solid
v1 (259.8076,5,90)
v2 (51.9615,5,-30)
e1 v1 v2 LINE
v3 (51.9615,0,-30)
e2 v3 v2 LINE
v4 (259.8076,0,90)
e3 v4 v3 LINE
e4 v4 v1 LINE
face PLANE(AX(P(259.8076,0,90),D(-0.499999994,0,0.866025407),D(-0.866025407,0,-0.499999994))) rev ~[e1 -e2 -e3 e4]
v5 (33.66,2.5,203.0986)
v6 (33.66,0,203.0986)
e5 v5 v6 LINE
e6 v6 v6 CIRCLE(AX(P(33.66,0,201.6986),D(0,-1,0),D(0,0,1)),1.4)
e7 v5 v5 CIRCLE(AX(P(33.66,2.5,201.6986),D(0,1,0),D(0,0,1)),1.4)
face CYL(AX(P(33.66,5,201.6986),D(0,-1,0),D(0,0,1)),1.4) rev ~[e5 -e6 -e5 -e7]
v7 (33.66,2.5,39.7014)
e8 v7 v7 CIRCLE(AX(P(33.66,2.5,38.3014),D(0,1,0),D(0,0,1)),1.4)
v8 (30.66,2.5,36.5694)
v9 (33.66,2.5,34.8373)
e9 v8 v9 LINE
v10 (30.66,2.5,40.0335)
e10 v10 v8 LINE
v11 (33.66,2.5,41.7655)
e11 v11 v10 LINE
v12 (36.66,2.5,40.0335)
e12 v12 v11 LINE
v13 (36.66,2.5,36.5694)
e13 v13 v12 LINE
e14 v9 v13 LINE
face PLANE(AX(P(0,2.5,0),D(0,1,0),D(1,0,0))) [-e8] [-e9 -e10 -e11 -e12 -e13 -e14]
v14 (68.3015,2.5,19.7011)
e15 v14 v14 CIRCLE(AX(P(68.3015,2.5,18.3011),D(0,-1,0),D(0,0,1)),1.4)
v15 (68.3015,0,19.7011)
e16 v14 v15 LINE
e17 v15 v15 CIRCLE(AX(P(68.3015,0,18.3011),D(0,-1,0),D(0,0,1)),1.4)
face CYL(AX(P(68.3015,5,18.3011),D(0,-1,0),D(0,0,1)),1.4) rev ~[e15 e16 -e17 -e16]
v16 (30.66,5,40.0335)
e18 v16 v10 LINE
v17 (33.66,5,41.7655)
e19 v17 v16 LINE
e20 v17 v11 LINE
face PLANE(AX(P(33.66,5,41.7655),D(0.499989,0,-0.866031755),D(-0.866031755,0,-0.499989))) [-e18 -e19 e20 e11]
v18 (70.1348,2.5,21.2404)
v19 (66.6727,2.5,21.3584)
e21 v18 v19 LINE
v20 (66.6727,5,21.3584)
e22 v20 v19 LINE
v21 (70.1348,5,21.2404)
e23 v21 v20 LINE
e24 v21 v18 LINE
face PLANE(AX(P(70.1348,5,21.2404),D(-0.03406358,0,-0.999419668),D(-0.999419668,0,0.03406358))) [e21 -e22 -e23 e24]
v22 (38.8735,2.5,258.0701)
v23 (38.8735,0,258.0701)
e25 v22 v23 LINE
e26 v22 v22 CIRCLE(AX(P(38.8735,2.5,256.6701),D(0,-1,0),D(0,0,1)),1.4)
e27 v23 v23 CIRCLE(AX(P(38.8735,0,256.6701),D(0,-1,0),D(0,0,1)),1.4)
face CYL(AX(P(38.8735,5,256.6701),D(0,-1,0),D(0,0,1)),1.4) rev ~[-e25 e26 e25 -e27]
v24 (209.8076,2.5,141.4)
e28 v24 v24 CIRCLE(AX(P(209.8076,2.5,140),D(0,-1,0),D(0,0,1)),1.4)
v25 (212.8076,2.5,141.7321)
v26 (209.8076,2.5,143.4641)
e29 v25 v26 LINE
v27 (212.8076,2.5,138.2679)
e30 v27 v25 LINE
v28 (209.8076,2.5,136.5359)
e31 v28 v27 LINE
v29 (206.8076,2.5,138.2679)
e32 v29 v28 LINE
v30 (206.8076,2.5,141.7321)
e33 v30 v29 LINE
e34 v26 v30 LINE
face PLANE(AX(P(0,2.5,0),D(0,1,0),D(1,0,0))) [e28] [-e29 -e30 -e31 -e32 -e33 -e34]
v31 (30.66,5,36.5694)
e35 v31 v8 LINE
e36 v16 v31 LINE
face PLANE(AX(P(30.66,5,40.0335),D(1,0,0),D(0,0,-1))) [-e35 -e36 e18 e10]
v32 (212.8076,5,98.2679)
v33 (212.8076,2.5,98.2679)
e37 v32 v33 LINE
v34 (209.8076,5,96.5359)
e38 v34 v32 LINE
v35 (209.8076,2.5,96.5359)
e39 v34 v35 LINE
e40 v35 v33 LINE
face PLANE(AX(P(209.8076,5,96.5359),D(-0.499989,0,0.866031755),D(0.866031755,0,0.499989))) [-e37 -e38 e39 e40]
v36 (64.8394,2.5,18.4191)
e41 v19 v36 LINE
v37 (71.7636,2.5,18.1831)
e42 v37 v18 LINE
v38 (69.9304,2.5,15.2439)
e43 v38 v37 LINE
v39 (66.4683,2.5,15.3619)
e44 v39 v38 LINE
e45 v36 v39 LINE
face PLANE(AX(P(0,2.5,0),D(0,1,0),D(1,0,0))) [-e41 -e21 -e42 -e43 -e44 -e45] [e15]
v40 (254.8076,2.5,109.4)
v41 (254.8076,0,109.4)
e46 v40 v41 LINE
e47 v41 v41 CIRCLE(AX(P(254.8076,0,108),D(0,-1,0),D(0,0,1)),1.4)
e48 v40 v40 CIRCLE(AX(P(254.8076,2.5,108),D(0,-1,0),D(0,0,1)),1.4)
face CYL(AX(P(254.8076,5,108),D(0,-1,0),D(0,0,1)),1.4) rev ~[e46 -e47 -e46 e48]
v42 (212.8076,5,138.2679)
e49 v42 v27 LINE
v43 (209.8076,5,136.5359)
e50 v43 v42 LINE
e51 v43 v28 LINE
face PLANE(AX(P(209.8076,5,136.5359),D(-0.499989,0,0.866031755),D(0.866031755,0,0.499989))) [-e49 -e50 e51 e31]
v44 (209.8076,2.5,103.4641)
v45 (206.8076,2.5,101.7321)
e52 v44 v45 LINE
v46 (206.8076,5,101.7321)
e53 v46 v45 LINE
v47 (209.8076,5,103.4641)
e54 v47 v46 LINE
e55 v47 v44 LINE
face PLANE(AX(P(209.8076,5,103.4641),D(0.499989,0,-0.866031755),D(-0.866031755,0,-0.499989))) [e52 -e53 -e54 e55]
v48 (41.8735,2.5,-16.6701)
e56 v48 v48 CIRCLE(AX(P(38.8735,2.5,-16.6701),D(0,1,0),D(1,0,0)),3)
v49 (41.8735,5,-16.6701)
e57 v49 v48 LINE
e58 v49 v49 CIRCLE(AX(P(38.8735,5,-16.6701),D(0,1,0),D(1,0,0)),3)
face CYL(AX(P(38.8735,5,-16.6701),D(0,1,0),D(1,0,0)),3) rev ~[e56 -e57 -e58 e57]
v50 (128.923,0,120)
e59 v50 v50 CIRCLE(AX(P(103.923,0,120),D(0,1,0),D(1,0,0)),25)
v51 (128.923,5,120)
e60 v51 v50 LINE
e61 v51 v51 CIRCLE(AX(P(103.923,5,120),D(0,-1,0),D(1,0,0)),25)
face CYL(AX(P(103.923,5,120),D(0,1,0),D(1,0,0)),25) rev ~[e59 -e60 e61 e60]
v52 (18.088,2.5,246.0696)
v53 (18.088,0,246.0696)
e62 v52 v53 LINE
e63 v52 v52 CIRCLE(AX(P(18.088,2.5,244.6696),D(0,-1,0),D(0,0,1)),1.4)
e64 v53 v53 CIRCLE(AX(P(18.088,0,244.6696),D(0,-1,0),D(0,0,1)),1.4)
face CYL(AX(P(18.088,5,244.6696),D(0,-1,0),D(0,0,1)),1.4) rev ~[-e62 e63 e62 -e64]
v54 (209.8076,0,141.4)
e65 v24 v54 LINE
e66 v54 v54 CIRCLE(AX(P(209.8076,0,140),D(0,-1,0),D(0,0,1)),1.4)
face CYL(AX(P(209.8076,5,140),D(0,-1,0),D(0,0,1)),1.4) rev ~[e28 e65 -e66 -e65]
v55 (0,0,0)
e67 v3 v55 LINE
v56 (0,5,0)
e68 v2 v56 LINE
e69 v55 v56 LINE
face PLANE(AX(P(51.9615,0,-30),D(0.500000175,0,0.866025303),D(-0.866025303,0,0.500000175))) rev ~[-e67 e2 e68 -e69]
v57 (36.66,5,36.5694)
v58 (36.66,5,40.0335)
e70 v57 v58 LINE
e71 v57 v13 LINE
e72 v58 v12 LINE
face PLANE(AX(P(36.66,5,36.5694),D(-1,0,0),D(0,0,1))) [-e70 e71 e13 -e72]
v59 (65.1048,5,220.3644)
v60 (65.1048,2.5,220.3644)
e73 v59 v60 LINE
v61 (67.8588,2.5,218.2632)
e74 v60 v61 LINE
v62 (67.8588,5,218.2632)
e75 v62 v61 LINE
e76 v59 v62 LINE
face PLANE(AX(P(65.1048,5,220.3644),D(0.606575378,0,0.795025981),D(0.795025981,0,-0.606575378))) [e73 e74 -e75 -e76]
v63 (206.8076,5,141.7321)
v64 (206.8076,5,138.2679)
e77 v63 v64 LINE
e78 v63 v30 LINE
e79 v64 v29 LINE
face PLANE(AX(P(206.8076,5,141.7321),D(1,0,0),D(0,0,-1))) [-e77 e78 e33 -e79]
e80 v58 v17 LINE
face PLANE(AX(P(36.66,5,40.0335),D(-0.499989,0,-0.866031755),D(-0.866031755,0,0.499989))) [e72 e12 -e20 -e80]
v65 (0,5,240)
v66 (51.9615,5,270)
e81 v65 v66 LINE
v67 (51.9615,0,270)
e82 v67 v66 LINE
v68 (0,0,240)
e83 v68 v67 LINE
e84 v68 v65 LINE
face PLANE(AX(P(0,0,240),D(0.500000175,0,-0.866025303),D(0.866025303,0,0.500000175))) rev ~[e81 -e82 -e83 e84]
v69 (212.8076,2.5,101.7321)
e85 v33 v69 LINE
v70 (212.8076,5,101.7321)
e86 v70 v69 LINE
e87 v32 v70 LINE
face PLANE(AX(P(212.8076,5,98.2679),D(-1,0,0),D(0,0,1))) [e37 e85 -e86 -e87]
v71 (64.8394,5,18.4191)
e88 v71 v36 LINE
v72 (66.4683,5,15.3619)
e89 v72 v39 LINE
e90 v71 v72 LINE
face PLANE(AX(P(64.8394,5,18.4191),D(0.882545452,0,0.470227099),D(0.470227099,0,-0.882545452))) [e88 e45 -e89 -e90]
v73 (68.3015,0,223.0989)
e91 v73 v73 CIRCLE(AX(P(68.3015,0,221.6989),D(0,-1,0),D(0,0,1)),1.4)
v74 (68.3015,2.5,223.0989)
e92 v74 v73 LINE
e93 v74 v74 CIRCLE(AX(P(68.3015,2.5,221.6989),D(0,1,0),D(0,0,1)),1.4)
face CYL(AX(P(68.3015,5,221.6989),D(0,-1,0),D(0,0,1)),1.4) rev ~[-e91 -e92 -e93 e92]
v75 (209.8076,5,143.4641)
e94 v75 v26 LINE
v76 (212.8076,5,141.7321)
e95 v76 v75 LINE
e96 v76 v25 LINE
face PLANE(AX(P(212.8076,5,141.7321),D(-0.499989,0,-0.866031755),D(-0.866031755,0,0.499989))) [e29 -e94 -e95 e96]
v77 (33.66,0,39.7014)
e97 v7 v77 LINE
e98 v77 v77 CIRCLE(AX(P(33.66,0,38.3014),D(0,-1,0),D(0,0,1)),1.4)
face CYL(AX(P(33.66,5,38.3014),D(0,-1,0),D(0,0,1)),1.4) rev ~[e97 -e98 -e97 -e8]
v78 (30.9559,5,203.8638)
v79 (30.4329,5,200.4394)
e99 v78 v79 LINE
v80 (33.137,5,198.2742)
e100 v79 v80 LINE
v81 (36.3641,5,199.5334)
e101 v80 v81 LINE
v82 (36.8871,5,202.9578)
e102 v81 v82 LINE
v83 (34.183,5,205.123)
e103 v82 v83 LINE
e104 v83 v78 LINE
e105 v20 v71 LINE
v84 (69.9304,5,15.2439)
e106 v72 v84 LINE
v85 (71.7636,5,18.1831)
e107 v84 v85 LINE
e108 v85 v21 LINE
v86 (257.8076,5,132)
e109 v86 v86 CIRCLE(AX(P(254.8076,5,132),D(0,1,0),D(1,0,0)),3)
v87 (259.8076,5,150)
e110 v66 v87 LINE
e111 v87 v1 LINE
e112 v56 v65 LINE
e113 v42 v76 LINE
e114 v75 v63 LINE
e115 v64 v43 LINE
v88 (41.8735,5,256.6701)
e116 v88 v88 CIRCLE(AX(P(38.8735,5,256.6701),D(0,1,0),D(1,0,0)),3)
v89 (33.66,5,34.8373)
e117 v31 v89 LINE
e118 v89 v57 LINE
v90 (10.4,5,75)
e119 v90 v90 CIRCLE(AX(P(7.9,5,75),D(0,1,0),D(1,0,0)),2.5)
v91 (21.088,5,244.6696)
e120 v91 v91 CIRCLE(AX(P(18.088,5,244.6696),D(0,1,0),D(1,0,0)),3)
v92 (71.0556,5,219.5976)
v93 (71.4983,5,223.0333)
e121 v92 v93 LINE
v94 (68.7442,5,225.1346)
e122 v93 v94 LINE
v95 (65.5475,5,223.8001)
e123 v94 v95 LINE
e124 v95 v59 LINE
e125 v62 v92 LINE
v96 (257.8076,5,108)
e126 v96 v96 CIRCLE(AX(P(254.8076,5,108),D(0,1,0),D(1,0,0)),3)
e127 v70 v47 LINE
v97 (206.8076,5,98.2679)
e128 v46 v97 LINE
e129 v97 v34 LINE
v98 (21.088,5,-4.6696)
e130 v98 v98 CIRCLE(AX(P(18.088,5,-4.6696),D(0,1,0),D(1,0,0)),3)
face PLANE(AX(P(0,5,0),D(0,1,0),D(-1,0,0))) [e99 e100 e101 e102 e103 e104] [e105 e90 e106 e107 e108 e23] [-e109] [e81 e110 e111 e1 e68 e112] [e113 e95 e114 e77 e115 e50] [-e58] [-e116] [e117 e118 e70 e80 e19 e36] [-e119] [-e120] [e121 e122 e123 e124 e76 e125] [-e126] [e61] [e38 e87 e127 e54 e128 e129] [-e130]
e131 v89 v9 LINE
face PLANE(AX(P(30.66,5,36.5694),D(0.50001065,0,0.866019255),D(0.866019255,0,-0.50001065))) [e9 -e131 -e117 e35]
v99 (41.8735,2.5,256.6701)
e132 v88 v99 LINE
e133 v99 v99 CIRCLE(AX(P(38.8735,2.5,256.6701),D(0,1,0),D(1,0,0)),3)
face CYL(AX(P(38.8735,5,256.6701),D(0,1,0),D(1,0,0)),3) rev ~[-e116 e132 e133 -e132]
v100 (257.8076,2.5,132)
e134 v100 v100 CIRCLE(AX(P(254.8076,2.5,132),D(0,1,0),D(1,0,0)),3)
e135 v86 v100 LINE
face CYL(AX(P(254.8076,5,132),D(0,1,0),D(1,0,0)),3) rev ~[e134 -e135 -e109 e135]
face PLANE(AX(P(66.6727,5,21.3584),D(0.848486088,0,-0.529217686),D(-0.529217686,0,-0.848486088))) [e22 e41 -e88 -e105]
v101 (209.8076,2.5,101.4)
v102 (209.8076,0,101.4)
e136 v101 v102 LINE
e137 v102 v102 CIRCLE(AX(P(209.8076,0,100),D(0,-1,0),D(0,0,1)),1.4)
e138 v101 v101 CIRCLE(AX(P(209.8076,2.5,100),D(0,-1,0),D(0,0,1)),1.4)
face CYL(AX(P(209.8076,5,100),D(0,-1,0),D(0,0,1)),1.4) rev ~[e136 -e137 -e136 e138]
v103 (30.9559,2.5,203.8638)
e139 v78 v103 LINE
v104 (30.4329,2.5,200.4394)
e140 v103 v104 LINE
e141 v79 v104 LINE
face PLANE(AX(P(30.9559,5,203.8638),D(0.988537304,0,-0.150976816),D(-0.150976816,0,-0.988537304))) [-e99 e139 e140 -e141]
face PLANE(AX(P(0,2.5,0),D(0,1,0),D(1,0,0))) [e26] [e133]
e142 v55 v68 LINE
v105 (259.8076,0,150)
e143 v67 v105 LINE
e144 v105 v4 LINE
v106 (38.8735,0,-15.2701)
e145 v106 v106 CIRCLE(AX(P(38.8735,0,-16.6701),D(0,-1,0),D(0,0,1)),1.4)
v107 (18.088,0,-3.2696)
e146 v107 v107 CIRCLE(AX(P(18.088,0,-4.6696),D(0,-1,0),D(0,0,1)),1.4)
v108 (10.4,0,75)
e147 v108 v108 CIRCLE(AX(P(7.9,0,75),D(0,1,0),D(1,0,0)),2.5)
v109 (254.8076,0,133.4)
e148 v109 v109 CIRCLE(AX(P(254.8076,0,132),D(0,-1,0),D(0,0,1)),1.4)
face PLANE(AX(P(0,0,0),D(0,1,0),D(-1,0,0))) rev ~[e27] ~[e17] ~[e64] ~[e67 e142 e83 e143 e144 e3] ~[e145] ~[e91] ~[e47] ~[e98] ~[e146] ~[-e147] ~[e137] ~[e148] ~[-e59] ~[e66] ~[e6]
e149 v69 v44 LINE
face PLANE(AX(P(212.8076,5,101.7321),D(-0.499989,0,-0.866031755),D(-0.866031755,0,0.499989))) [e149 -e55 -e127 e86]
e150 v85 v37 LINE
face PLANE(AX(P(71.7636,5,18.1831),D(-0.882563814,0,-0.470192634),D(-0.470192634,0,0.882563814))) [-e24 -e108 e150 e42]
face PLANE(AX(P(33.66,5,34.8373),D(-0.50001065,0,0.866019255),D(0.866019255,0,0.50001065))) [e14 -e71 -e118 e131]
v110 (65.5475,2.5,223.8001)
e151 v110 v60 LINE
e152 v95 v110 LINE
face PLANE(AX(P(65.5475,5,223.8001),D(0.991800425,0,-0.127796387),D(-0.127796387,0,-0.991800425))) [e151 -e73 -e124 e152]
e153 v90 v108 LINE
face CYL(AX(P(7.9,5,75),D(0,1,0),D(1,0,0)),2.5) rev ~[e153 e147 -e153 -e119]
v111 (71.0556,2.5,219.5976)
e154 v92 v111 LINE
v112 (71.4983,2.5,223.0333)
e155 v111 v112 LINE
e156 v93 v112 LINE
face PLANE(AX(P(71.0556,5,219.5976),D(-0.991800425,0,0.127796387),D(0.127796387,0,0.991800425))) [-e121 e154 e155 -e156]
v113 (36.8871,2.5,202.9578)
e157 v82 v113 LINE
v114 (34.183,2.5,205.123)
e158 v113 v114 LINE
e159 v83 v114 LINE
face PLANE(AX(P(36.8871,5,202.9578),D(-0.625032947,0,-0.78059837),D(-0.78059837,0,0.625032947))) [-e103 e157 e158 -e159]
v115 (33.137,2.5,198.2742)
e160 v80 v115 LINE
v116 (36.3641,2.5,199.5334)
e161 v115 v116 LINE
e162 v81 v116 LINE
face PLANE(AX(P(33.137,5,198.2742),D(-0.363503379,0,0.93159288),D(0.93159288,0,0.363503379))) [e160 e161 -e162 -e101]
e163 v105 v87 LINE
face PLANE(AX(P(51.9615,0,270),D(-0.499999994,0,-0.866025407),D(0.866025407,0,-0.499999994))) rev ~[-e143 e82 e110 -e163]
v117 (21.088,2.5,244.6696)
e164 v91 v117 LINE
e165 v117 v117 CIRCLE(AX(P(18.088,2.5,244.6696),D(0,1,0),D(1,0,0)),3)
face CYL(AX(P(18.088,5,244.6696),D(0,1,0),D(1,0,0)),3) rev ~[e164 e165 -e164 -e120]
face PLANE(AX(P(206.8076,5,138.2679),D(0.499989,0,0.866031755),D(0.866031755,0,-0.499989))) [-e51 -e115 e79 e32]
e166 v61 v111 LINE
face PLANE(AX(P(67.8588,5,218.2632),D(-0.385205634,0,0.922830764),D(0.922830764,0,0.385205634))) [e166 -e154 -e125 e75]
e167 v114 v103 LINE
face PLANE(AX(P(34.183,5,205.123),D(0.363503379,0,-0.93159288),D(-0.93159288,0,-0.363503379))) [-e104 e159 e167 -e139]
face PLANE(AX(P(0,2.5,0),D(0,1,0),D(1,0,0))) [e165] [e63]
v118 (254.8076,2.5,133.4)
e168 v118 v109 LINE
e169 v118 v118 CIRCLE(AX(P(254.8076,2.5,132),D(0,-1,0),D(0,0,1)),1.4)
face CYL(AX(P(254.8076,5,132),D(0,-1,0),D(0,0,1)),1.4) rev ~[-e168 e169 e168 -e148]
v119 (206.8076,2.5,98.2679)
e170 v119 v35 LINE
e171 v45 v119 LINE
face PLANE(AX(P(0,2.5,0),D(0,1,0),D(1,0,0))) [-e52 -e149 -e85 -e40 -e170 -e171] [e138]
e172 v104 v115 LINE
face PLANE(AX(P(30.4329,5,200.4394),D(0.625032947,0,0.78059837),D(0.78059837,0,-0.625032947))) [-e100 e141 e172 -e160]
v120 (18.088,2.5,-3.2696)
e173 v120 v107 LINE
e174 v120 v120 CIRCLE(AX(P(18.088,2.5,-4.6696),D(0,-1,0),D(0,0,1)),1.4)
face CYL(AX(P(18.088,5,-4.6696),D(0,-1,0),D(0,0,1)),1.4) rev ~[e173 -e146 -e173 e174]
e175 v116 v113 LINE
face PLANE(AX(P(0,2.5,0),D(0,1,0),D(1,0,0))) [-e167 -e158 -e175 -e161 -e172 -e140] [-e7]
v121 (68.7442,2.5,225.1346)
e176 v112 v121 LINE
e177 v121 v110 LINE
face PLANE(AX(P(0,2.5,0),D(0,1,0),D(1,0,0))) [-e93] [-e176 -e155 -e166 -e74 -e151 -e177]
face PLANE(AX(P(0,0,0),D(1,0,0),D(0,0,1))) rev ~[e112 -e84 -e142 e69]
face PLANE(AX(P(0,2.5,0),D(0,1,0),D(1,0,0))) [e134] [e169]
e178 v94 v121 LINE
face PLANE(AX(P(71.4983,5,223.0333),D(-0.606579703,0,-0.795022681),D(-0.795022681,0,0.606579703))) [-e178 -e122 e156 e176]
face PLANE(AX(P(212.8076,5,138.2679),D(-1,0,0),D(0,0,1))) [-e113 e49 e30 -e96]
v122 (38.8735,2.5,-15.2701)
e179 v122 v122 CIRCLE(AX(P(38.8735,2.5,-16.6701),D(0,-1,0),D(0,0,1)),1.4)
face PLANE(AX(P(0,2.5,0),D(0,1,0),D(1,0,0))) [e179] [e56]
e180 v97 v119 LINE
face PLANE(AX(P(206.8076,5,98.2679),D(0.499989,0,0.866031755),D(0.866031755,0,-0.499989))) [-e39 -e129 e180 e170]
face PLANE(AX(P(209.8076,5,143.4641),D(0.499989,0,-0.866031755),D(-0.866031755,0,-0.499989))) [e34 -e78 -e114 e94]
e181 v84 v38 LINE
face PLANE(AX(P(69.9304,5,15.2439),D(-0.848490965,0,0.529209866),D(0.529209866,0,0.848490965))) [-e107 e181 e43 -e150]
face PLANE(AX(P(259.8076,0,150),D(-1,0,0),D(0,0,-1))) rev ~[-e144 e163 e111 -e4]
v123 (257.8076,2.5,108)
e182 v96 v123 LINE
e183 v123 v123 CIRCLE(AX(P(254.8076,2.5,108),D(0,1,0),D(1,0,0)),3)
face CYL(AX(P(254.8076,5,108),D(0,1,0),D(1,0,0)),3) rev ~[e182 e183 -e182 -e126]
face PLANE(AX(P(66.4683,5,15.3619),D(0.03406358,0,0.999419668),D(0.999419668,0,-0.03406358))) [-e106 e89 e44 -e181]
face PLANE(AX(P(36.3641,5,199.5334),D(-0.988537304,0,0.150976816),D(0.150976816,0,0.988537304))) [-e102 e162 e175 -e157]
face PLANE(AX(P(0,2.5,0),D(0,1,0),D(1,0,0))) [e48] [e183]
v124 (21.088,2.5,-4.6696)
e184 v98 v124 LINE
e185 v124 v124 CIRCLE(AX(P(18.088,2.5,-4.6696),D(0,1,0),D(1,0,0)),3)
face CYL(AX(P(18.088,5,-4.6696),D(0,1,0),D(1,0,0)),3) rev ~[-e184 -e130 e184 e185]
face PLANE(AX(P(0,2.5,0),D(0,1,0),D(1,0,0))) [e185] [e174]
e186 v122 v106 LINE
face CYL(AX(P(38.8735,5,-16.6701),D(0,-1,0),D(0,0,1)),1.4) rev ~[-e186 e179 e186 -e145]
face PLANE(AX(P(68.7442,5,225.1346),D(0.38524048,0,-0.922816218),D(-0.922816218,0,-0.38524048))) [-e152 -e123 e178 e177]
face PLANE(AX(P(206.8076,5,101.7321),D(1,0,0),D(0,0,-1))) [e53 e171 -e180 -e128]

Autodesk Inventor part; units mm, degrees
ref_plane "YZ Plane" through (0, 0, 0) normal (1, 0, 0) x (0, 1, 0)
ref_plane "XZ Plane" through (0, 0, 0) normal (0, 1, 0) x (-1, 0, 0)
ref_plane "XY Plane" through (0, 0, 0) normal (0, 0, 1) x (1, 0, 0)
sketch "Sketch1" plane through (0, 0, 0) normal (0, 1, 0) x (-1, 0, 0)
  line L0 (-259.8076, 150) -> (-259.8076, 90)
  line L1 (-259.8076, 90) -> (-51.9615, -30)
  line L2 (-51.9615, -30) -> (0, 0)
  line L3 (0, 0) -> (0, 240)
  line L4 (0, 240) -> (-51.9615, 270)
  line L5 (-51.9615, 270) -> (-259.8076, 150)
  dimension "d0" = 120
  dimension "d1" = 120
  dimension "d2" = 120
  dimension "d4" = 120
  dimension "d5" = 120
  dimension "d6" = 60
  dimension "d7" = 120
extrude "Extrusion1" add sketch "Sketch1" along normal blind 5
sketch "Sketch2" plane through (0, 5, 0) normal (0, 1, 0) x (1, 0, 0)
  line L0 (254.8076, -108) -> (254.8076, -132)
  line L1 (259.8076, -150) -> (259.8076, -90) projected
  line L2 (259.8076, -90) -> (51.9615, 30) projected
  line L3 (51.9615, -270) -> (259.8076, -150) projected
  line L4 (209.8076, -108) -> (209.8076, -132)
  line L5 (209.8076, -108) -> (209.8076, -100)
  line L6 (209.8076, -144.7569) -> (209.8076, -140)
  point P0 (0, 0)
  dimension "d10" = 24
  dimension "d11" = 5
  dimension "d12" = 18
  dimension "d31" = 18.0885
  dimension "d32" = 18.0885
  dimension "d33" = 18
  dimension "d44" = 45
  dimension "d45" = 0
  dimension "d47" = 40.5885
  dimension "d51" = 8
  dimension "d52" = 8
hole "Hole1" at (209.8076, 5, 100) at (209.8076, 5, 140) at (254.8076, 5, 108) at (254.8076, 5, 132) direction (0, -1, 0) diameter 2.8 end through all
sketch "Sketch3" plane through (0, 5, 0) normal (0, 1, 0) x (1, 0, 0)
  line L0 (18.088, 4.6696) -> (38.8735, 16.6701)
  line L1 (51.9615, 30) -> (0, 0) projected
  line L2 (0, 0) -> (0, -240) projected
  line L3 (259.8076, -90) -> (51.9615, 30) projected
  line L4 (47.516, -30.3017) -> (68.3015, -18.3011)
  line L5 (68.3015, -18.3011) -> (68.3015, -18.3011)
  line L6 (47.516, -30.3017) -> (33.66, -38.3014)
  dimension "d20" = 5
  dimension "d22" = 18.088
  dimension "d23" = 18.088
  dimension "d46" = 45
  dimension "d48" = 33.66
  dimension "d53" = 33.66
  dimension "d89" = 33.66
hole "Hole2" at (68.3015, 5, 18.3011) at (33.66, 5, 38.3014) at (18.088, 5, -4.6696) at (38.8735, 5, -16.6701) direction (0, -1, 0) diameter 2.8 end through all
sketch "Sketch4" plane through (0, 5, 0) normal (0, 1, 0) x (1, 0, 0)
  line L0 (18.088, -244.6696) -> (38.8735, -256.6701)
  line L1 (0, -240) -> (51.9615, -270) projected
  line L2 (51.9615, -270) -> (259.8076, -150) projected
  line L3 (0, 0) -> (0, -240) projected
  line L4 (47.516, -209.6983) -> (68.3015, -221.6989)
  line L5 (68.3015, -221.6989) -> (68.3015, -221.6989)
  line L6 (47.516, -209.6983) -> (33.66, -201.6986)
  dimension "d34" = 5
  dimension "d35" = 18.088
  dimension "d36" = 18.088
  dimension "d49" = 45
  dimension "d50" = 33.66
  dimension "d56" = 33.66
  dimension "d90" = 33.66
hole "Hole3" at (68.3015, 5, 221.6989) at (33.66, 5, 201.6986) at (18.088, 5, 244.6696) at (38.8735, 5, 256.6701) direction (0, -1, 0) diameter 2.8 end through all
sketch "Sketch5" plane through (0, 5, 0) normal (0, 1, 0) x (1, 0, 0)
  circle A0 centre (103.923, -120) radius 25
  line L0 (0, 0) -> (0, -240) projected
  line L1 (259.8076, -90) -> (51.9615, 30) projected
  line L2 (51.9615, 30) -> (0, 0) projected
  line L3 (25.9808, 15) -> (155.8846, -210)
  line L4 (51.9615, -270) -> (259.8076, -150) projected
  line L5 (51.9615, 30) -> (0, 0) projected
  line L6 (0, 0) -> (0, -240) projected
  line L7 (0, -120) -> (259.8076, -120)
  line L8 (259.8076, -150) -> (259.8076, -90) projected
  line L9 (0, -240) -> (51.9615, -270) projected
  line L10 (25.9808, -255) -> (155.8846, -30)
  dimension "d57" = 50
  dimension "d60" = 0
  dimension "d61" = 0
extrude "Extrusion2" cut sketch "Sketch5" against normal through all contours L7 L10 A0 | A0 L3 L7 | L10 L3 A0 | A0 L10 L3 | L7 A0 L3 | L10 A0 L7
sketch "Sketch6" plane through (0, 5, 0) normal (0, 1, 0) x (1, 0, 0)
  circle A0 centre (103.923, -120) radius 25 projected
  circle A1 centre (18.088, -244.6696) radius 1.4 projected
  circle A2 centre (68.3015, -221.6989) radius 1.4 projected
  circle A3 centre (33.66, -201.6986) radius 1.4 projected
  circle A4 centre (38.8735, -256.6701) radius 1.4 projected
  circle A5 centre (18.088, 4.6696) radius 1.4 projected
  circle A6 centre (68.3015, -18.3011) radius 1.4 projected
  circle A7 centre (33.66, -38.3014) radius 1.4 projected
  circle A8 centre (38.8735, 16.6701) radius 1.4 projected
  circle A9 centre (254.8076, -108) radius 1.4 projected
  circle A10 centre (209.8076, -100) radius 1.4 projected
  circle A11 centre (209.8076, -140) radius 1.4 projected
  circle A12 centre (254.8076, -132) radius 1.4 projected
  line L0 (259.8076, -90) -> (51.9615, 30) projected
  line L1 (51.9615, 30) -> (0, 0) projected
  line L2 (0, 0) -> (0, -240) projected
  line L3 (0, -240) -> (51.9615, -270) projected
  line L4 (51.9615, -270) -> (259.8076, -150) projected
  line L5 (259.8076, -150) -> (259.8076, -90) projected
  line L6 (36.3641, -199.5334) -> (36.8871, -202.9578)
  line L7 (36.8871, -202.9578) -> (34.183, -205.123)
  line L8 (34.183, -205.123) -> (30.9559, -203.8638)
  line L9 (30.9559, -203.8638) -> (30.4329, -200.4394)
  line L10 (30.4329, -200.4394) -> (33.137, -198.2742)
  line L11 (33.137, -198.2742) -> (36.3641, -199.5334)
  circle A13 centre (68.3015, -221.6989) radius 1.4 projected
  line L12 (67.8588, -218.2632) -> (71.0556, -219.5976)
  line L13 (71.0556, -219.5976) -> (71.4983, -223.0333)
  line L14 (71.4983, -223.0333) -> (68.7442, -225.1346)
  line L15 (68.7442, -225.1346) -> (65.5475, -223.8001)
  line L16 (65.5475, -223.8001) -> (65.1048, -220.3644)
  line L17 (65.1048, -220.3644) -> (67.8588, -218.2632)
  circle A14 centre (209.8076, -140) radius 1.4 projected
  line L18 (212.8076, -138.2679) -> (212.8076, -141.7321)
  line L19 (212.8076, -141.7321) -> (209.8076, -143.4641)
  line L20 (209.8076, -143.4641) -> (206.8076, -141.7321)
  line L21 (206.8076, -141.7321) -> (206.8076, -138.2679)
  line L22 (206.8076, -138.2679) -> (209.8076, -136.5359)
  line L23 (209.8076, -136.5359) -> (212.8076, -138.2679)
  line L24 (206.8076, -98.2679) -> (209.8076, -96.5359)
  line L25 (209.8076, -96.5359) -> (212.8076, -98.2679)
  line L26 (212.8076, -98.2679) -> (212.8076, -101.7321)
  line L27 (212.8076, -101.7321) -> (209.8076, -103.4641)
  line L28 (209.8076, -103.4641) -> (206.8076, -101.7321)
  line L29 (206.8076, -101.7321) -> (206.8076, -98.2679)
  circle A15 centre (68.3015, -18.3011) radius 1.4 projected
  line L30 (69.9304, -15.2439) -> (71.7636, -18.1831)
  line L31 (71.7636, -18.1831) -> (70.1348, -21.2404)
  line L32 (70.1348, -21.2404) -> (66.6727, -21.3584)
  line L33 (66.6727, -21.3584) -> (64.8394, -18.4191)
  line L34 (64.8394, -18.4191) -> (66.4683, -15.3619)
  line L35 (66.4683, -15.3619) -> (69.9304, -15.2439)
  circle A16 centre (33.66, -38.3014) radius 1.4 projected
  line L36 (33.66, -34.8373) -> (36.66, -36.5694)
  line L37 (36.66, -36.5694) -> (36.66, -40.0335)
  line L38 (36.66, -40.0335) -> (33.66, -41.7655)
  line L39 (33.66, -41.7655) -> (30.66, -40.0335)
  line L40 (30.66, -40.0335) -> (30.66, -36.5694)
  line L41 (30.66, -36.5694) -> (33.66, -34.8373)
  line L42 (0, 0) -> (0, -240) projected
  line L43 (51.9615, -270) -> (259.8076, -150) projected
  line L44 (259.8076, -90) -> (51.9615, 30) projected
  circle A17 centre (18.088, -244.6696) radius 3
  circle A18 centre (38.8735, -256.6701) radius 3
  circle A19 centre (18.088, 4.6696) radius 3
  circle A20 centre (38.8735, 16.6701) radius 3
  circle A21 centre (254.8076, -108) radius 3
  circle A22 centre (254.8076, -132) radius 3
  dimension "d66" = 6
  dimension "d67" = 6
  dimension "d68" = 6
  dimension "d71" = 6
  dimension "d72" = 6
  dimension "d73" = 6
  dimension "d78" = 6
  dimension "d79" = 6
  dimension "d80" = 6
  dimension "d81" = 6
  dimension "d82" = 6
  dimension "d83" = 6
extrude "Extrusion3" cut sketch "Sketch6" against normal blind 2.5 contours A1 | A4 | A5 | A6 | A8 | A9 | A10 | A11 | A12 | L6 L7 L8 L9 L10 L11 | L12 L13 L14 L15 L16 L17 | L18 L19 L20 L21 L22 L23 | L24 L25 L26 L27 L28 L29 | L30 L31 L32 L33 L34 L35 | L36 L37 L38 L39 L40 L41 | A17 | A18 | A19 | A20 | A21 | A22
sketch "Sketch7" plane through (0, 5, 0) normal (0, 1, 0) x (1, 0, 0)
  circle A0 centre (7.9, -75) radius 2.5
  line L0 (0, 0) -> (0, -240) projected
  dimension "d84" = 75
  dimension "d85" = 5
  dimension "d88" = 7.9
extrude "Extrusion4" cut sketch "Sketch7" against normal through all
properties part number "lep_felso" material "Wood (Birch)"
